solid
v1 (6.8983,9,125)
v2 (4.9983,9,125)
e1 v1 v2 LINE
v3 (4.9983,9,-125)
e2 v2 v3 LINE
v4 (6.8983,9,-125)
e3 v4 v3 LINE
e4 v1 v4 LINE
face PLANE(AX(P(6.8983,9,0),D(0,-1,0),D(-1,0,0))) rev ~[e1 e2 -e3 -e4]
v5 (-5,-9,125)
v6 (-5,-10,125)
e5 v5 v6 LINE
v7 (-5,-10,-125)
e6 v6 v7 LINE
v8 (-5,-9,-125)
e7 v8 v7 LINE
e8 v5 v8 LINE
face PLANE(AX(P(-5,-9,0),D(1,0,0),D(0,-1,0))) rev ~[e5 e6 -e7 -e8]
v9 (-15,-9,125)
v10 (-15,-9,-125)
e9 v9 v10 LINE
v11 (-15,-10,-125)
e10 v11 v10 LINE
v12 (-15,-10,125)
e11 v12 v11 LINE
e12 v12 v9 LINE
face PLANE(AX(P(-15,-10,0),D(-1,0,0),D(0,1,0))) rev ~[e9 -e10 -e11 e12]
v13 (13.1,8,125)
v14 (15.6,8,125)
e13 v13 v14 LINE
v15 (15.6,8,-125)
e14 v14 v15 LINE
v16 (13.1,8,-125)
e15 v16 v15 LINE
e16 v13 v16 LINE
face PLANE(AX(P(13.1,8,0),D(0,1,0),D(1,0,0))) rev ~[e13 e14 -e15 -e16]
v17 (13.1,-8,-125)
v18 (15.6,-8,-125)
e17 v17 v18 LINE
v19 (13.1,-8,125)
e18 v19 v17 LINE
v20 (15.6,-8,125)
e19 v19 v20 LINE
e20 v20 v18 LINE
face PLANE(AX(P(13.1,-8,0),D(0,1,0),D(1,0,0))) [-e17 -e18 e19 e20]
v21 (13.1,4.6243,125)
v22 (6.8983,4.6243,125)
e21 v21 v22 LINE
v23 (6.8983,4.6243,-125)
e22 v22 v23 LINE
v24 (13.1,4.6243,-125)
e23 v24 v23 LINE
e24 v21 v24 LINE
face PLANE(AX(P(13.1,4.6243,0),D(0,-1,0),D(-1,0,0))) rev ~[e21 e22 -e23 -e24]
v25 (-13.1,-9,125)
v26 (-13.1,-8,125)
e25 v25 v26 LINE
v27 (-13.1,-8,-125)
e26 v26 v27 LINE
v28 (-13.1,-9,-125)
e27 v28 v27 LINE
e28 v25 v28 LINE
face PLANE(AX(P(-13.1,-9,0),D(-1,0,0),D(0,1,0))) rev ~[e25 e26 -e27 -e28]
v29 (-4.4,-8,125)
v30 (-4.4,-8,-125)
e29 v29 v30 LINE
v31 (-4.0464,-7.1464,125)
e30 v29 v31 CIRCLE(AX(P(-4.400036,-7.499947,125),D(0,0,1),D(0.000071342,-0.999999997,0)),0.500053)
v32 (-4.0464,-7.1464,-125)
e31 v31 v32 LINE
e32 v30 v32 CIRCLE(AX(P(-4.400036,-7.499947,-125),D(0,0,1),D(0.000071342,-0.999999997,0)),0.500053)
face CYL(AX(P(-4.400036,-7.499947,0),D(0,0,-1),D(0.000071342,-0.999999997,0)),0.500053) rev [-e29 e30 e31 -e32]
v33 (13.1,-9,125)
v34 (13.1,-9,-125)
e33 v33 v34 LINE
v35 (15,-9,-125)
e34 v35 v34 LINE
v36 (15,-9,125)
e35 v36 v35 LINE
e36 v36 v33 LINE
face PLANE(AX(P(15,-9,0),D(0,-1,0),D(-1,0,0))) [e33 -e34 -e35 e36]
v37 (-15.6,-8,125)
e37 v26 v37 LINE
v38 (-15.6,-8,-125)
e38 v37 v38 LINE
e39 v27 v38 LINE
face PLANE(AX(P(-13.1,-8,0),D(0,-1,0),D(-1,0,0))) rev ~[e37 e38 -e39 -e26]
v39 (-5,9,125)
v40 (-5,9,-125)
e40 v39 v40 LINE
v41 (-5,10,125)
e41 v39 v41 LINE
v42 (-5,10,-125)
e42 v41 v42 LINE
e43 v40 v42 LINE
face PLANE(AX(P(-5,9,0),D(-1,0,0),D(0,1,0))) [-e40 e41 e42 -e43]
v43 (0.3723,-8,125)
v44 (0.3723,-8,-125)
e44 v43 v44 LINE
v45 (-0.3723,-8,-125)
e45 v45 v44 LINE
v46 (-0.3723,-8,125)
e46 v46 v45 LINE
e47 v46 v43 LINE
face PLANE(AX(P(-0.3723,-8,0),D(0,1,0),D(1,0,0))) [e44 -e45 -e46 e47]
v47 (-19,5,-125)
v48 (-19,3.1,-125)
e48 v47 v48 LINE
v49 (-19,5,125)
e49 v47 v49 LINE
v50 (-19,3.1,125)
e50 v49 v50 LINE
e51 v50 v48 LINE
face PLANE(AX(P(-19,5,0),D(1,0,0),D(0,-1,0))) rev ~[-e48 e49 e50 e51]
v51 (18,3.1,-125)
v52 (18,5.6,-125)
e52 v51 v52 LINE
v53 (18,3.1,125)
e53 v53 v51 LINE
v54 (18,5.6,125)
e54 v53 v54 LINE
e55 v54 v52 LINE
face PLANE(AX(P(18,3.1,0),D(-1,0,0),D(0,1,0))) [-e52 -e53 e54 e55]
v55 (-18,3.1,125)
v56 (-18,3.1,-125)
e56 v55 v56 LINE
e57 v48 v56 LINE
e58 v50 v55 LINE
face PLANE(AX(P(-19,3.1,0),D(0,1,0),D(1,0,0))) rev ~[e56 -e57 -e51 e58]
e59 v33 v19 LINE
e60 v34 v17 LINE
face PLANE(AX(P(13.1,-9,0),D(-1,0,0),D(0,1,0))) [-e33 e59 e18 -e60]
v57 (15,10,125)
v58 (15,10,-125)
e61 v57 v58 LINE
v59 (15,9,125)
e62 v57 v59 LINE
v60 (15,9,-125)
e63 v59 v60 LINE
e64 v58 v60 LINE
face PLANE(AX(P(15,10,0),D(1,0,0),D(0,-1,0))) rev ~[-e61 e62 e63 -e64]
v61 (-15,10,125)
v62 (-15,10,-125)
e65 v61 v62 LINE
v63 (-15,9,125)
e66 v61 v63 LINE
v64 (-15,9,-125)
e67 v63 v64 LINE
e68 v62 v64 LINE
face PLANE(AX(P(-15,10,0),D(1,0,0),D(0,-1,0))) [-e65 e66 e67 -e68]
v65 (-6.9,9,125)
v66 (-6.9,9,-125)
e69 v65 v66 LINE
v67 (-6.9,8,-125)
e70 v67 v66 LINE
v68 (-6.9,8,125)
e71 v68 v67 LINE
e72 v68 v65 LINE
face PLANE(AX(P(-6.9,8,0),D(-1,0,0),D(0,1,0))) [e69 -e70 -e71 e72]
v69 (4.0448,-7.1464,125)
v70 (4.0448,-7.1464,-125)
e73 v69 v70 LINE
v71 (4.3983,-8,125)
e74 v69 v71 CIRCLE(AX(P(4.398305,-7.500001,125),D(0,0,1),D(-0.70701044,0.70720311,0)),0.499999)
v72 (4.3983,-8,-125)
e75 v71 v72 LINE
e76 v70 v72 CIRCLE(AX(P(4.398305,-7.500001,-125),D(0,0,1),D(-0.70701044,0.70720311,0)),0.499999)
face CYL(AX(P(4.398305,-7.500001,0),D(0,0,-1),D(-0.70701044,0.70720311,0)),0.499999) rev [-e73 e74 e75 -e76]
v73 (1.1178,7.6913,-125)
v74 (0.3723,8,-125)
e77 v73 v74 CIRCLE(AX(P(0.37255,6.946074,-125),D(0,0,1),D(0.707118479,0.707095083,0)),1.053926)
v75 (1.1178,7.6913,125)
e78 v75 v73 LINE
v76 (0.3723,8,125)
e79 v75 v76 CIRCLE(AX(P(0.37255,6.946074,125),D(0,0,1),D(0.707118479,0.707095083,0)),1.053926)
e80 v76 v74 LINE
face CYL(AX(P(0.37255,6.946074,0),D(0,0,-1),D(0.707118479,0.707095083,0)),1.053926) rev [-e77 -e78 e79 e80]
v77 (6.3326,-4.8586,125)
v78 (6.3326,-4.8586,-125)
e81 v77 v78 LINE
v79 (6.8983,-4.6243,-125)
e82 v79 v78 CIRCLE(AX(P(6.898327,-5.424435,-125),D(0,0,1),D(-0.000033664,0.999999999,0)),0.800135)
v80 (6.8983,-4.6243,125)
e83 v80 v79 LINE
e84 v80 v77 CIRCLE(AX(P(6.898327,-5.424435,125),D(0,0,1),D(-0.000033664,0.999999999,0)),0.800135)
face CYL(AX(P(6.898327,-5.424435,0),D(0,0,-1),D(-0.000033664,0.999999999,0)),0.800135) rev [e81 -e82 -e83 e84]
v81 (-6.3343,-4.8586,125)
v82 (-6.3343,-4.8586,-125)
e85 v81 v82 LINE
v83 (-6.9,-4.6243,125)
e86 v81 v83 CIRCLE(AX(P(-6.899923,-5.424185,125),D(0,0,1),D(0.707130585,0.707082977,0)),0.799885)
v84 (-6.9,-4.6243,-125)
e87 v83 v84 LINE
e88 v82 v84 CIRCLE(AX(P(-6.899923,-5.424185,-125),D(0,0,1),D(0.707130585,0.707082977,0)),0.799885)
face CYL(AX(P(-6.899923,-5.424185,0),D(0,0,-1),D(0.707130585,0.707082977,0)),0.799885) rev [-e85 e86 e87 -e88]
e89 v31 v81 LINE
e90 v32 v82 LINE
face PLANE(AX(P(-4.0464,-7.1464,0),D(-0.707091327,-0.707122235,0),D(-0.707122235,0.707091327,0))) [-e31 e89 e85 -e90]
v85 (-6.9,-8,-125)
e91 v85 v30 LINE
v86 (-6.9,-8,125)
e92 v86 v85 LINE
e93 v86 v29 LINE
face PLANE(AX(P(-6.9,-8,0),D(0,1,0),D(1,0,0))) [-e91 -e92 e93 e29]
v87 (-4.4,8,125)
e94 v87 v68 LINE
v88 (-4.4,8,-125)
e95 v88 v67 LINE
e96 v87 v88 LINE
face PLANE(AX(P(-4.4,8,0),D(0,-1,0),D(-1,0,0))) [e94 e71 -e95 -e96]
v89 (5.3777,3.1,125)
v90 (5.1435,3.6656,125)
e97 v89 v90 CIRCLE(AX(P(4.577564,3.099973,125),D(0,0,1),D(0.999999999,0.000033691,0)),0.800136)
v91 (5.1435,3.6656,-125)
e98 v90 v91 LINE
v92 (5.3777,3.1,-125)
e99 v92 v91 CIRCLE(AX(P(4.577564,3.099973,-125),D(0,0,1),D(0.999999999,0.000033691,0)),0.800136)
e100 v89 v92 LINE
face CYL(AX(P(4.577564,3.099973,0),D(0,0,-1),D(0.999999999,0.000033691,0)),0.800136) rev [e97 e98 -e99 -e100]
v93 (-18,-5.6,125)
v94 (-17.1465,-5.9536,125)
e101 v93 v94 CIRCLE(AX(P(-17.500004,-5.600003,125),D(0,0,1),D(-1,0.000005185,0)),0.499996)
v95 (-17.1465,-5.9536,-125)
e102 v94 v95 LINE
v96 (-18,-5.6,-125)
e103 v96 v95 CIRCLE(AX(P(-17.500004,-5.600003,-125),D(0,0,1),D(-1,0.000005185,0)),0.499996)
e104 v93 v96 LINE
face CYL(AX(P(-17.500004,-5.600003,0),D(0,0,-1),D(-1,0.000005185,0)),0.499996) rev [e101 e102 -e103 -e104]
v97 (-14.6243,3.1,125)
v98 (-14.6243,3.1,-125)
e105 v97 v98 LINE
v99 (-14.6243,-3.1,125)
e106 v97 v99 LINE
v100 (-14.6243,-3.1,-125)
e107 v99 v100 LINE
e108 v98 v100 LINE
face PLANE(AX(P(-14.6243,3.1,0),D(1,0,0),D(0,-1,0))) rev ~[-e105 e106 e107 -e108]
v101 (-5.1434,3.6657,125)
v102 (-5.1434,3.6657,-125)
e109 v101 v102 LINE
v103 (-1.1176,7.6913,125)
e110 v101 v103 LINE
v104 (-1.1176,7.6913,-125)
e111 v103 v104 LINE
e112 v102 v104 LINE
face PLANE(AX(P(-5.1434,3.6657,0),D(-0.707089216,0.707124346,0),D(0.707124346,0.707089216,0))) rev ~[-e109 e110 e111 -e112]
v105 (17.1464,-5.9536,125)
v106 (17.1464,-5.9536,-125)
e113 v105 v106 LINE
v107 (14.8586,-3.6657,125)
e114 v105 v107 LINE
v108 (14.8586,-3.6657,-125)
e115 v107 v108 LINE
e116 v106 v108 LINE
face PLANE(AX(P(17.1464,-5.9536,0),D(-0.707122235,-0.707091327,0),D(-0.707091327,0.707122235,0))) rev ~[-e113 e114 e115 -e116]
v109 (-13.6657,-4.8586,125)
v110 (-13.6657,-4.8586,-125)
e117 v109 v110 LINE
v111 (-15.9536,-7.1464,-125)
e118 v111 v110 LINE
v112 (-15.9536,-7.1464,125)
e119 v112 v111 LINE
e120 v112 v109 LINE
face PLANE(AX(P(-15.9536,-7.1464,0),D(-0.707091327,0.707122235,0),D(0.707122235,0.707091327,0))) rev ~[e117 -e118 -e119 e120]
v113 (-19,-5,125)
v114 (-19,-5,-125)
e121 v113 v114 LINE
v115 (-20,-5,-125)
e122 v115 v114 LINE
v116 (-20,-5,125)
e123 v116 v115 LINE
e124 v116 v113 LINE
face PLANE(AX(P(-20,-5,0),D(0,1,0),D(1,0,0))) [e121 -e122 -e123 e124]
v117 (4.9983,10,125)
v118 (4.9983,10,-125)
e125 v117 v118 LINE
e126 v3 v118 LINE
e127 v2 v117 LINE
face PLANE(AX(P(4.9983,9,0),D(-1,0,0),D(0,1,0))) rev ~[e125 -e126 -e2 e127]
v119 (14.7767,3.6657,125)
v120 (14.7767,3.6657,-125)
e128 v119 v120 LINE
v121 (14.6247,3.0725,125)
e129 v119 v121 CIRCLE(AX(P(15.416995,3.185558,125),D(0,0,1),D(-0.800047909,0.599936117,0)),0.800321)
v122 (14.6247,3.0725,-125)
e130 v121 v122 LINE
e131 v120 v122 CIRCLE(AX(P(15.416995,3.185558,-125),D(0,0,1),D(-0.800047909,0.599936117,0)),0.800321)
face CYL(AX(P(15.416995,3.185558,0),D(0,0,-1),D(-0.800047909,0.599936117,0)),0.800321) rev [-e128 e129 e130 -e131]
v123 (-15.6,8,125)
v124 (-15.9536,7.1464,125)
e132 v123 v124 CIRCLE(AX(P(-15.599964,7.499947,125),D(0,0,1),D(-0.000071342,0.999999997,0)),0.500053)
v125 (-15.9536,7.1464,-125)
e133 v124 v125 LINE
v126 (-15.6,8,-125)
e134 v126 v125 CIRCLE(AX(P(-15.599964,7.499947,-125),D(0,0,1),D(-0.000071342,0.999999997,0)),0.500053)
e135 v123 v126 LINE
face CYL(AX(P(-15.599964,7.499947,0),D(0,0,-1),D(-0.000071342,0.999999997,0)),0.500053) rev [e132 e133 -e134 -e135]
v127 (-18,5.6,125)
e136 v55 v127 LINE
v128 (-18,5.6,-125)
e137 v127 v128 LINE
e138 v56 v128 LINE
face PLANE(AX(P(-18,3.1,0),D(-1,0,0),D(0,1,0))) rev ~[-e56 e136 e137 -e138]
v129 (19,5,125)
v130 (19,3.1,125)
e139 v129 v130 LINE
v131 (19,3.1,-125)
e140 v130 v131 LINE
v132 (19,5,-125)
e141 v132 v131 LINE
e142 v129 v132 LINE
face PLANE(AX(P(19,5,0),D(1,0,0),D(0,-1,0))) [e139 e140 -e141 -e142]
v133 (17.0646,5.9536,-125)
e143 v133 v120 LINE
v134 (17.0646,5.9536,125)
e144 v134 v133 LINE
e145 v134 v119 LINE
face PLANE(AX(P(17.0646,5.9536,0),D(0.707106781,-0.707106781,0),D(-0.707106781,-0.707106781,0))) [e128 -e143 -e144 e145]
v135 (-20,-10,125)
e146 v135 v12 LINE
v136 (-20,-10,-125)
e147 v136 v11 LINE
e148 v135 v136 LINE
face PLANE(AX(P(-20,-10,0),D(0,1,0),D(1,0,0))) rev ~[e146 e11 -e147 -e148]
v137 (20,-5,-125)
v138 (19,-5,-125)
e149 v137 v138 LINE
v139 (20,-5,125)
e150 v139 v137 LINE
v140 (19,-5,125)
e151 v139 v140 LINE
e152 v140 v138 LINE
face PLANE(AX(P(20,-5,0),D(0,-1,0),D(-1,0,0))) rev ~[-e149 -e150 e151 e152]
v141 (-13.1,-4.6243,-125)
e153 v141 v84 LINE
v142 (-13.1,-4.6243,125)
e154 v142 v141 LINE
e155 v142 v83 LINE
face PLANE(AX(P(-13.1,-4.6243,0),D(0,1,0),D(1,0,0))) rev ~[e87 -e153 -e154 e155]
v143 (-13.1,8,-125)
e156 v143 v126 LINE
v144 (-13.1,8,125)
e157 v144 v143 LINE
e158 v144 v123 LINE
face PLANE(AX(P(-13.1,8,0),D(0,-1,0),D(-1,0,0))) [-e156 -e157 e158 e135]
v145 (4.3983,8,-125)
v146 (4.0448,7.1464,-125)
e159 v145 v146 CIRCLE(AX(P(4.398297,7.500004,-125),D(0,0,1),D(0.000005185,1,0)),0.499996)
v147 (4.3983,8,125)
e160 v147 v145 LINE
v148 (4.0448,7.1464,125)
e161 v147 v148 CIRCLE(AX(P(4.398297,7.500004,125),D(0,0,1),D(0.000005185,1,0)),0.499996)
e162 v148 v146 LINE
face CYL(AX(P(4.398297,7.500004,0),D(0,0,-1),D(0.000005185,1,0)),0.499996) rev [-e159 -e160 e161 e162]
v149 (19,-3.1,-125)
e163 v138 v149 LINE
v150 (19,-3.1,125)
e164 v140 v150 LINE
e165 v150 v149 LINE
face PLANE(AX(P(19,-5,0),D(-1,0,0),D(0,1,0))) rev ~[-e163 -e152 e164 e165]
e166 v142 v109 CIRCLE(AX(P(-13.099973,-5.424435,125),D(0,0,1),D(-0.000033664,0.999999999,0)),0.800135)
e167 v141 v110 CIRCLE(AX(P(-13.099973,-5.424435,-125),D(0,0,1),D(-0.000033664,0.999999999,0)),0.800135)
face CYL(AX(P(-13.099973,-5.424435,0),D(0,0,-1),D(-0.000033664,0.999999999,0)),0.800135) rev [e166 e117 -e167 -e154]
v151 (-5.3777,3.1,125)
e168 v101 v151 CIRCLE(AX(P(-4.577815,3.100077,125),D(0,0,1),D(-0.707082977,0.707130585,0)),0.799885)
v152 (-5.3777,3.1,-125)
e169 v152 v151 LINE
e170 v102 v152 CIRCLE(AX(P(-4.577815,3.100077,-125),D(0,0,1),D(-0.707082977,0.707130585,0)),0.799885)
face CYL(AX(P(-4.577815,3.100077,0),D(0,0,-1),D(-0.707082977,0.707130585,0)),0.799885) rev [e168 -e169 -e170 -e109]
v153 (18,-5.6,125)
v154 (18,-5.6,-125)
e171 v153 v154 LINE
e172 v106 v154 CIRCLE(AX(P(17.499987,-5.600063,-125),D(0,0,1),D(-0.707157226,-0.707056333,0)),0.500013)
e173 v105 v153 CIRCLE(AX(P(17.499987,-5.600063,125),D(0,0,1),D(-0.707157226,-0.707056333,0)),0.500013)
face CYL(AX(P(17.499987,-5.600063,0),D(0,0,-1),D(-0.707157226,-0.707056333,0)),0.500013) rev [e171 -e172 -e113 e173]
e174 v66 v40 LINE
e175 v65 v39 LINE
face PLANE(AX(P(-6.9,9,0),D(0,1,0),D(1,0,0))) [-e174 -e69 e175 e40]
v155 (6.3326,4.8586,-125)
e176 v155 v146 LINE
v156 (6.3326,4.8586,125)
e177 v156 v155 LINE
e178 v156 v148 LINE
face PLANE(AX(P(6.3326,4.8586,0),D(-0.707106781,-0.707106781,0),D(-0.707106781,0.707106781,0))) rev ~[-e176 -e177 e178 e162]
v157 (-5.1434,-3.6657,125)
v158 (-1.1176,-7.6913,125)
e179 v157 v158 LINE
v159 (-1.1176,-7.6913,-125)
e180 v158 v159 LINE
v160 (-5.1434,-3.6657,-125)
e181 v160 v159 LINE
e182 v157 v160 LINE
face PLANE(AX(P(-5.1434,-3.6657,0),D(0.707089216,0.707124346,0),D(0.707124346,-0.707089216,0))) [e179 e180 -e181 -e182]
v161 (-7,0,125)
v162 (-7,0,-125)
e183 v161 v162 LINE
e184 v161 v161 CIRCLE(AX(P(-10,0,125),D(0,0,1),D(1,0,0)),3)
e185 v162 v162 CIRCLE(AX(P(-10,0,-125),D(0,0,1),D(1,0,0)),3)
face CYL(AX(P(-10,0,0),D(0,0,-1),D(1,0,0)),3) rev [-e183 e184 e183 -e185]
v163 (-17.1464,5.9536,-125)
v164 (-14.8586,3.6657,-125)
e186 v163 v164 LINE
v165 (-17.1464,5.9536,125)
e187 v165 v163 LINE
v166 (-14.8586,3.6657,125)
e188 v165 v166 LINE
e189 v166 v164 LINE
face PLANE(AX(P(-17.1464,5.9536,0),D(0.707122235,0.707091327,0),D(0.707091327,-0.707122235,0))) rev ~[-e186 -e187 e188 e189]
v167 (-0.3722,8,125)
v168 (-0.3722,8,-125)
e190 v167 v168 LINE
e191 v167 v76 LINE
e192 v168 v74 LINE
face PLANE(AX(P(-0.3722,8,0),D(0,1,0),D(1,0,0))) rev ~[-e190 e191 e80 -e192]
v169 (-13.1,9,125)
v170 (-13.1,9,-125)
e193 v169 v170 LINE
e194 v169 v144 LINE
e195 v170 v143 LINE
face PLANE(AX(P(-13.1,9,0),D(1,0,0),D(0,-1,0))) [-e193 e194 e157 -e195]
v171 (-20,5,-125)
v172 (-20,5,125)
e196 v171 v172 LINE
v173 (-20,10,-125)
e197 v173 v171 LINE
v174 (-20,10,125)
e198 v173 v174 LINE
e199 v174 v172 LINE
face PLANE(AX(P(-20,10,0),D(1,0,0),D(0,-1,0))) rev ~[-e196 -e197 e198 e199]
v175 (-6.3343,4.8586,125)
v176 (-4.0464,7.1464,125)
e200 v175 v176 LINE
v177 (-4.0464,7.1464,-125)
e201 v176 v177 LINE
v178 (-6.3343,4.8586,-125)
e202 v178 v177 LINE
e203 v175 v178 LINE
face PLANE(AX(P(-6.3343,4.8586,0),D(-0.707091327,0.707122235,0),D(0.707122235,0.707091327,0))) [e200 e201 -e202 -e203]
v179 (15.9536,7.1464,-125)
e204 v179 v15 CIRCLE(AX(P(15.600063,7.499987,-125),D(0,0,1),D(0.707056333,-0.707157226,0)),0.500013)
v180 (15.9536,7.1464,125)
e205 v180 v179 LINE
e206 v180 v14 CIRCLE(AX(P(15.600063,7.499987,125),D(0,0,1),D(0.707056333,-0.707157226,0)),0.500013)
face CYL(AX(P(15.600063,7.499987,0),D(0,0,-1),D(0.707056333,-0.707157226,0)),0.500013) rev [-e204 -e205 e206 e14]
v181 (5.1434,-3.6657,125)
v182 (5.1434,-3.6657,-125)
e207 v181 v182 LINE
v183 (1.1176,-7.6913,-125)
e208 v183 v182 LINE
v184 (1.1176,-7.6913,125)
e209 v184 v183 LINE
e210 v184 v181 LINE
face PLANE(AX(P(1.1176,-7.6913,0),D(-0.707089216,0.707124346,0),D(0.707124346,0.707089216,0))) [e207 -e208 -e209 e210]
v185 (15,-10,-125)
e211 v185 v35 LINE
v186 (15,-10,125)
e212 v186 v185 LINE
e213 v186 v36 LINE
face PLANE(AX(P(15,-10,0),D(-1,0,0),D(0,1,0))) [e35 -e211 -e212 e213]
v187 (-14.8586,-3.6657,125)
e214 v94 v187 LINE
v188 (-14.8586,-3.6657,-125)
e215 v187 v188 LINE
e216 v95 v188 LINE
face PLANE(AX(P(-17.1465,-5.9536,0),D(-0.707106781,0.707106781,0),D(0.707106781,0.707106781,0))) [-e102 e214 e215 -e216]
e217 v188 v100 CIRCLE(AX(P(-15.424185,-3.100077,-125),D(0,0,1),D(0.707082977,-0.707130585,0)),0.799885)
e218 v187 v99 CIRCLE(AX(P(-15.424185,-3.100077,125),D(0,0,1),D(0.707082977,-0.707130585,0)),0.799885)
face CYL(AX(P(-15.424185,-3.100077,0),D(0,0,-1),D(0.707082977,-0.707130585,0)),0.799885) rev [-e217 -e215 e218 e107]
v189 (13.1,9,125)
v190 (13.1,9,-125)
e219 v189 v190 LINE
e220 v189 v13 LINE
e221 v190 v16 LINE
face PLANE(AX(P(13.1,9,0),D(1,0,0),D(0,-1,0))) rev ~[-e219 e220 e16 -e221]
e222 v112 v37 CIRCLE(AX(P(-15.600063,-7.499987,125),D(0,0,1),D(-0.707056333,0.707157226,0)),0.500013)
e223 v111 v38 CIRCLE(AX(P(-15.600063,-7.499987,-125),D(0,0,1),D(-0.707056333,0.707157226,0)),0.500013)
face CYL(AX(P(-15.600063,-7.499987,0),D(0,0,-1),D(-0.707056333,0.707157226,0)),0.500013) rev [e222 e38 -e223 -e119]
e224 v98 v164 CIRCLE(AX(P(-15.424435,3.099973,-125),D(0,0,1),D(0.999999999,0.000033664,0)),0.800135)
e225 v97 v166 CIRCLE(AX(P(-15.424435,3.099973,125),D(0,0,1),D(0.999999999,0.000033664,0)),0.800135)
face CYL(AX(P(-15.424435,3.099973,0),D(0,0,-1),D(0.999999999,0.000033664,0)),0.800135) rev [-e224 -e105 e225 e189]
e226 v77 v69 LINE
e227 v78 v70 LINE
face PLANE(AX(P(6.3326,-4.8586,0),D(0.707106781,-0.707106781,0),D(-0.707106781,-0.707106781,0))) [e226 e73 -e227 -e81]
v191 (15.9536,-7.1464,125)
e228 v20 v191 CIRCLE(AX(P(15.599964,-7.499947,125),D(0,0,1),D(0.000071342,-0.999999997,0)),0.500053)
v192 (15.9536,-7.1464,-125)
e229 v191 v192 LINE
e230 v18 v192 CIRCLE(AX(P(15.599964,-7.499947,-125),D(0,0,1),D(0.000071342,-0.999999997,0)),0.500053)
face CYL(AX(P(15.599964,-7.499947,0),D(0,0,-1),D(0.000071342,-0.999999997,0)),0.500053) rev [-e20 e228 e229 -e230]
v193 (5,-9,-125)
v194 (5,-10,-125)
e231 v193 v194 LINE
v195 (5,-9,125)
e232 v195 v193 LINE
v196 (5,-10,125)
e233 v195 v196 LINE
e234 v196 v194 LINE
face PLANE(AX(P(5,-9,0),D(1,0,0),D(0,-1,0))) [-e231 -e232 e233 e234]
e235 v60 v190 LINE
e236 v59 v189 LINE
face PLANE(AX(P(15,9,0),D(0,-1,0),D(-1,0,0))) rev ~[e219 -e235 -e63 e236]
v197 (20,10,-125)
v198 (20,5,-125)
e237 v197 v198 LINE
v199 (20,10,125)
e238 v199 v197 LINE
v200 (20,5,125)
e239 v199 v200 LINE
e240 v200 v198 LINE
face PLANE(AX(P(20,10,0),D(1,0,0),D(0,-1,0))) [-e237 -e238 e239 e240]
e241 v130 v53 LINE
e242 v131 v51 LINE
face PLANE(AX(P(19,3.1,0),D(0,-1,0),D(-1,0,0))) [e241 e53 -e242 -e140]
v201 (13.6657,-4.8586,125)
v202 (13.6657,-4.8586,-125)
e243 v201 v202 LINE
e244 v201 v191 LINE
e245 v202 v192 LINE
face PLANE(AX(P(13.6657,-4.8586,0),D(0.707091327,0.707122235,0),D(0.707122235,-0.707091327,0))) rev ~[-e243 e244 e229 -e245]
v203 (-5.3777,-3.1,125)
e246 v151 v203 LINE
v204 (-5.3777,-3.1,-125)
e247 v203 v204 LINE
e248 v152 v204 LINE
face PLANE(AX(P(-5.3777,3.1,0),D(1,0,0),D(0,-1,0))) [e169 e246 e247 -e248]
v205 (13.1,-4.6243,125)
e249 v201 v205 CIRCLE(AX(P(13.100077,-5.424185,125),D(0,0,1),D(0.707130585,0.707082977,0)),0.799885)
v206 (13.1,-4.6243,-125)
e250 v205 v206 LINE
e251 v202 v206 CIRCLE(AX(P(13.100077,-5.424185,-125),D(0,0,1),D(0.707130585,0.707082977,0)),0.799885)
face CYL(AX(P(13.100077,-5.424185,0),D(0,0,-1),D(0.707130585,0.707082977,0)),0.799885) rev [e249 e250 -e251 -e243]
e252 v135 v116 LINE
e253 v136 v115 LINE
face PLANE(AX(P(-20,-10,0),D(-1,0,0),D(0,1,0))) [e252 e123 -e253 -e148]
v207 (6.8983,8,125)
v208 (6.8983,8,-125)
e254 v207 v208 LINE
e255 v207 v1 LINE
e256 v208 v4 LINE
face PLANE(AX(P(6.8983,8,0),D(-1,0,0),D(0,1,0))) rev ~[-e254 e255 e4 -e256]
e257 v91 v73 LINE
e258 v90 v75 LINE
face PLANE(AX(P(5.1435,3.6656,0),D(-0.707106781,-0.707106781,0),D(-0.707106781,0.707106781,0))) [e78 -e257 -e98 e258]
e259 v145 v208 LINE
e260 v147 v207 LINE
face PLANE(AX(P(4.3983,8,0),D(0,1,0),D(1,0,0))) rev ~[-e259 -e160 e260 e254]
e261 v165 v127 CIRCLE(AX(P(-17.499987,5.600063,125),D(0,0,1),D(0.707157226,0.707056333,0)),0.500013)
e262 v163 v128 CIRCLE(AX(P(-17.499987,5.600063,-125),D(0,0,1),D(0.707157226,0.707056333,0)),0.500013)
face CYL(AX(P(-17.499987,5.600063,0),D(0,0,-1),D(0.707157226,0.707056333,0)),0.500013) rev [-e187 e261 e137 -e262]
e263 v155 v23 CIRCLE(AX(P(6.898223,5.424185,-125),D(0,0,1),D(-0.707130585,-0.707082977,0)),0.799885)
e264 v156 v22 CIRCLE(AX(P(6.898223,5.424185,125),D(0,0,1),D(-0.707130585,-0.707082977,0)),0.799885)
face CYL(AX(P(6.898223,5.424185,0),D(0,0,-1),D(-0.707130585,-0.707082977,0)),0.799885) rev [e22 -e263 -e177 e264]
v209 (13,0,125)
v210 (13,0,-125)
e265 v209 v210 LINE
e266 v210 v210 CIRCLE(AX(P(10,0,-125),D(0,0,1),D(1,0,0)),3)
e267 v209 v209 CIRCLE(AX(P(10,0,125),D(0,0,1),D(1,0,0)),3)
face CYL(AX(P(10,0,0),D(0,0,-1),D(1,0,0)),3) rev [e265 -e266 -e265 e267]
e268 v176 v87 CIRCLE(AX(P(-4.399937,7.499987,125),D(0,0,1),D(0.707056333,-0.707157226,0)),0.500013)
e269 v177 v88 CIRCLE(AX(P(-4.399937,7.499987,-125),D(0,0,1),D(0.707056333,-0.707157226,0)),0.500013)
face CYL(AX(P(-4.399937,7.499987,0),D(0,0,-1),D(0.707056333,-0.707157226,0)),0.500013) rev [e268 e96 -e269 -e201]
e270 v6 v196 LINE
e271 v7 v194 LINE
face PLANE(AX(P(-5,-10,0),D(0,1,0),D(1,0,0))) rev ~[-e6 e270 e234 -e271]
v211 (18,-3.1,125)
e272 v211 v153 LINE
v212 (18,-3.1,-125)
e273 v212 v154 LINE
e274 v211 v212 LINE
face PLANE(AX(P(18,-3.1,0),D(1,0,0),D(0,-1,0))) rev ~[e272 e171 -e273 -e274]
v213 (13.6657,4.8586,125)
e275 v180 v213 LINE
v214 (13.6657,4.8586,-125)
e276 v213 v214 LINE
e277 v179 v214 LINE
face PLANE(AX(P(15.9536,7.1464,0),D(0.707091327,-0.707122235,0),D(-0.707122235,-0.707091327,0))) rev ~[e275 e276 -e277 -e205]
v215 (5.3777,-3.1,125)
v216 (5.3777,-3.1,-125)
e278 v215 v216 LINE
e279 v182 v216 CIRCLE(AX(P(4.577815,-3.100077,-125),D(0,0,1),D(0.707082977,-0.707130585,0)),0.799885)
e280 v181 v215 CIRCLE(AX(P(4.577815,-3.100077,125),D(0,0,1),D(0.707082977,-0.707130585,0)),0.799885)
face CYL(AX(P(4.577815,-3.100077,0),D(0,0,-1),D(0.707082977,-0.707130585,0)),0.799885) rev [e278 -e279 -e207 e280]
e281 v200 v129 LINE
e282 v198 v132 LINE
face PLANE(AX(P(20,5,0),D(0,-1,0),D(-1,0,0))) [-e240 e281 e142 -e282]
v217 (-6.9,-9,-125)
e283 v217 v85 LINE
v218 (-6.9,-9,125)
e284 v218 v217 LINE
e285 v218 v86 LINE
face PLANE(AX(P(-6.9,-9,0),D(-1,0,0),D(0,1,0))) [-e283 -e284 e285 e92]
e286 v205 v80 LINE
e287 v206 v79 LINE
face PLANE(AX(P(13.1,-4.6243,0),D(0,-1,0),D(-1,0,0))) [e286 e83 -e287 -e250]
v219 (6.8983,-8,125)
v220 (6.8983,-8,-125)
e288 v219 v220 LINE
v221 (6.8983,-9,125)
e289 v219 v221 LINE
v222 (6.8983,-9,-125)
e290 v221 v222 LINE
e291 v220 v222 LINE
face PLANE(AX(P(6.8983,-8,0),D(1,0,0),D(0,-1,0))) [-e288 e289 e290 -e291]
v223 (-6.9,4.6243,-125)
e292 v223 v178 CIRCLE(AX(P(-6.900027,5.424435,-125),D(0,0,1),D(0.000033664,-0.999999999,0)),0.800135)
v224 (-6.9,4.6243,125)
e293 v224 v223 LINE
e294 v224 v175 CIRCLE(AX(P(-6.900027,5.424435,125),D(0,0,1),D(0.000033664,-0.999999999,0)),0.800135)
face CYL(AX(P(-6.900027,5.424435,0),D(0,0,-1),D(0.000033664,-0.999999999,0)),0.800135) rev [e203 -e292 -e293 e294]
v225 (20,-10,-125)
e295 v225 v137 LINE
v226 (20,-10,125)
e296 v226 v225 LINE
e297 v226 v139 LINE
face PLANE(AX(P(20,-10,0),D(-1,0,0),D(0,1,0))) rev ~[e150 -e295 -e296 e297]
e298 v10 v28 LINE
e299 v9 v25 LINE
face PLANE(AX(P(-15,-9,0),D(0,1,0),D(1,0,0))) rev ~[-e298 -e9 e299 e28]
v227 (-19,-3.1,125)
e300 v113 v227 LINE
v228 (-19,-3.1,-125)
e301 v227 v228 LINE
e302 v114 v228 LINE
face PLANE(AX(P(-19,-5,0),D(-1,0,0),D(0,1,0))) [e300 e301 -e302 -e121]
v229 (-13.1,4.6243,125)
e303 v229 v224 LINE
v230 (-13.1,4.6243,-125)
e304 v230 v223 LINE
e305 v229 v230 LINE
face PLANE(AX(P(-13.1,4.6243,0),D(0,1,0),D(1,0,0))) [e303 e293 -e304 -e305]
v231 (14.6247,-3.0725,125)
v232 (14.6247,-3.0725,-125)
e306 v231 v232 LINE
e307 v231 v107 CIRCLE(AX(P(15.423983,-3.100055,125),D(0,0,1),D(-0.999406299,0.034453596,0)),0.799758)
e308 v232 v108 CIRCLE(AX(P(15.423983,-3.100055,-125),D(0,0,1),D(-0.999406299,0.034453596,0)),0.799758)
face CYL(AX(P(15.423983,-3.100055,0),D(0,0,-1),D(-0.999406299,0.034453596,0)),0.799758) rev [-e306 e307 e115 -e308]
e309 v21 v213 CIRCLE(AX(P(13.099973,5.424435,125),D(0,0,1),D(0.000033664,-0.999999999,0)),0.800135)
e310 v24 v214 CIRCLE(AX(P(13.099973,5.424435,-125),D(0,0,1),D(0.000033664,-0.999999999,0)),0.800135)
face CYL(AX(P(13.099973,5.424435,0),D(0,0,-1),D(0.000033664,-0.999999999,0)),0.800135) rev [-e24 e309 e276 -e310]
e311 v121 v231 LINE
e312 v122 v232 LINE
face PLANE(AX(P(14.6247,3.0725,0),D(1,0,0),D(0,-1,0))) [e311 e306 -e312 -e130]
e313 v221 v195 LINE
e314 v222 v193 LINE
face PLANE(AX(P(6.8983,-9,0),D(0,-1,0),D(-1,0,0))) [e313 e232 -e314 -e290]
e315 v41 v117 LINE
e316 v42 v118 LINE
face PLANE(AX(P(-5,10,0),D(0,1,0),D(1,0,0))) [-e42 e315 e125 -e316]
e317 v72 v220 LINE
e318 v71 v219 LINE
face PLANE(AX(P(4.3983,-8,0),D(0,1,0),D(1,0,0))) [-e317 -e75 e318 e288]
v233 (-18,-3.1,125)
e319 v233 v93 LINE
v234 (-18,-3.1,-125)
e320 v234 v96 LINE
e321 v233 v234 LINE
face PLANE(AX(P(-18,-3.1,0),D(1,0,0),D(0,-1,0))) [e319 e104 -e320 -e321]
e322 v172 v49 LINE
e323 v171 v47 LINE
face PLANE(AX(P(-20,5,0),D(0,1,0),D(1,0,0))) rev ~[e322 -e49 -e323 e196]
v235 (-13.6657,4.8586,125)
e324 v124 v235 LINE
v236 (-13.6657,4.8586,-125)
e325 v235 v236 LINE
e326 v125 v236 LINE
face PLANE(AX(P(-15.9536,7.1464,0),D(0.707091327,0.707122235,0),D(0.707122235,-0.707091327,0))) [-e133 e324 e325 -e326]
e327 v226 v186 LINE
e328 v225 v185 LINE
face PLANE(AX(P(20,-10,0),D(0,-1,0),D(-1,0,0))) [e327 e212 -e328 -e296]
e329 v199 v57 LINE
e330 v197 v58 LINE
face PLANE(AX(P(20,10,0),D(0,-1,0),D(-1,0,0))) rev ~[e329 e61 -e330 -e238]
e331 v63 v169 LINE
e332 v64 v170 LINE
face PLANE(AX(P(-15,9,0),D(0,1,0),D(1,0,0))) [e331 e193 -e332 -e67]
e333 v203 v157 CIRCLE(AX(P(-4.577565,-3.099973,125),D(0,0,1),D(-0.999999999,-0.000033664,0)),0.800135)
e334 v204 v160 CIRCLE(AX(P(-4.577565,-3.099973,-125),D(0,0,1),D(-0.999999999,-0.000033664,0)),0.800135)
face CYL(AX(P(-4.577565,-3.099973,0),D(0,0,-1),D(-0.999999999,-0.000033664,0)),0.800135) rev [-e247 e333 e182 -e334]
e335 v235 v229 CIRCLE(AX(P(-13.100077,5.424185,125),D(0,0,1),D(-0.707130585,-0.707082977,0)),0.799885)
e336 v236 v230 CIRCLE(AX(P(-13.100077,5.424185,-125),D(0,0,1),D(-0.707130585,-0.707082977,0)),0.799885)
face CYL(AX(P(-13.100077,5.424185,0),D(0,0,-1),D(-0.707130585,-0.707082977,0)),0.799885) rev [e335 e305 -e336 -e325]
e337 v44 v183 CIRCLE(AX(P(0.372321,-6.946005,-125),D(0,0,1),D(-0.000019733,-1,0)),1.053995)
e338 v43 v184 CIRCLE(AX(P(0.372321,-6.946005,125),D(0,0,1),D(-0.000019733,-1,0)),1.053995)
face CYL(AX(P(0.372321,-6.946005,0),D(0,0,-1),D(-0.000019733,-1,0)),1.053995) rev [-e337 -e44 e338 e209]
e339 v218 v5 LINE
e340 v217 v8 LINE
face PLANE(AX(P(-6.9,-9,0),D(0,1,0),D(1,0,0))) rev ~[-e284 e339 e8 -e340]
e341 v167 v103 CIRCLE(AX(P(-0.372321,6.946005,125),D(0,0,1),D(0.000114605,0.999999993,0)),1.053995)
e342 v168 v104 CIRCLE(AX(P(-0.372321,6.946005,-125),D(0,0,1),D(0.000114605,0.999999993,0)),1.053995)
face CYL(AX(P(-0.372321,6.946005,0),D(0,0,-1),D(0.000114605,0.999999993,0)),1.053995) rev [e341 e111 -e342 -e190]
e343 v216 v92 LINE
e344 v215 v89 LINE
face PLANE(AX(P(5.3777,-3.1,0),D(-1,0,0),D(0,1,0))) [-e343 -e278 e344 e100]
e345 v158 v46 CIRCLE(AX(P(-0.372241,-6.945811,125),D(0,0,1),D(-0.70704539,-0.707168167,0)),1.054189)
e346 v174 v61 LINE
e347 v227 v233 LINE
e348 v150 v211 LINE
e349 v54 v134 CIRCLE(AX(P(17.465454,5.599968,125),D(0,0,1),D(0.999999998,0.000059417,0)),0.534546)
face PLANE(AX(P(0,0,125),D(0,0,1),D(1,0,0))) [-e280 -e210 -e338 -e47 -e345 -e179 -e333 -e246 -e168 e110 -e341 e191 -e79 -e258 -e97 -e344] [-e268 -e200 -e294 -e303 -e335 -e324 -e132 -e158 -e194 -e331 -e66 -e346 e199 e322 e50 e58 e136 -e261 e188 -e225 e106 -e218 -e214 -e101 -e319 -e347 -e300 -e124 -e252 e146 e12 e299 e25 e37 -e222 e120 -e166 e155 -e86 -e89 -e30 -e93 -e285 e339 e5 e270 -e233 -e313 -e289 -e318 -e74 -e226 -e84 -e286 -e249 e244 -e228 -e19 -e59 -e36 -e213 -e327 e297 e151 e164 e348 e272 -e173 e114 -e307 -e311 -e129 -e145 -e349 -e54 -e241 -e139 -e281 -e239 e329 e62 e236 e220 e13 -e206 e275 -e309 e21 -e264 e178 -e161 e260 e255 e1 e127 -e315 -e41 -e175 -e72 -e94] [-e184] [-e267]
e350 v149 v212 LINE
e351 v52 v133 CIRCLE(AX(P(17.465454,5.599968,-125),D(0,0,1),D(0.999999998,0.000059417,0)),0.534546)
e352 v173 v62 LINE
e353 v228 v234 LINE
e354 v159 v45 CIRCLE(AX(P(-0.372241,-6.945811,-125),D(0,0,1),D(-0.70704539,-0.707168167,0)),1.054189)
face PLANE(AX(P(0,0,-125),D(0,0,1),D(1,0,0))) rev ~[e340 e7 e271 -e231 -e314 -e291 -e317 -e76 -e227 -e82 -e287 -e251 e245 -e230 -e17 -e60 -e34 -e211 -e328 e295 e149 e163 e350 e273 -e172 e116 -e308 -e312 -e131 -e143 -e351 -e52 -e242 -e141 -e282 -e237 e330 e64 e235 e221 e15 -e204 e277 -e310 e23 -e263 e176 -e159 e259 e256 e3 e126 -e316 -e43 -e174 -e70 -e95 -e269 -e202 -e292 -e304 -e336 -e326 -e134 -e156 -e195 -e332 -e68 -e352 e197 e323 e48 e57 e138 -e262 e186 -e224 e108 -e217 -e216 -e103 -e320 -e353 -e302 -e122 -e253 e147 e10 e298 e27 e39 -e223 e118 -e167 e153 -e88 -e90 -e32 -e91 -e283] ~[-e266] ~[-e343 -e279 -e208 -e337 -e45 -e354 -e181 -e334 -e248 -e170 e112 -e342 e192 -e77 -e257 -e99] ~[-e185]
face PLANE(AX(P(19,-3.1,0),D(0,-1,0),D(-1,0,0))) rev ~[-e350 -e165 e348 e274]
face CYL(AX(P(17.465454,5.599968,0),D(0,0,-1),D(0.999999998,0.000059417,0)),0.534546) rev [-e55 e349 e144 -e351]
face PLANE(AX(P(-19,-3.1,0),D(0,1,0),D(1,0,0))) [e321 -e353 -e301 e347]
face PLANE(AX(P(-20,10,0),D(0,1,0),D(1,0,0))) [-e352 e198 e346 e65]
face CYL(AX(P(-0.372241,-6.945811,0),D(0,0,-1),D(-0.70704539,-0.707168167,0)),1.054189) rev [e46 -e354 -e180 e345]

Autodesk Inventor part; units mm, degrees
ref_plane "YZ Plane" through (0, 0, 0) normal (1, 0, 0) x (0, 1, 0)
ref_plane "XZ Plane" through (0, 0, 0) normal (0, 1, 0) x (-1, 0, 0)
ref_plane "XY Plane" through (0, 0, 0) normal (0, 0, 1) x (1, 0, 0)
sketch "Esboço1" plane through (0, 0, 0) normal (0, 0, 1) x (1, 0, 0)
  line L0 (1376.0742, -3.2) -> (1376.0729, -2.2)
  line L1 (-14.9742, 1386.056) -> (-13.9742, 1386.056)
  line L2 (-13.9742, 1386.056) -> (-13.9742, 1387.2256)
  line L3 (-13.9742, 1387.2256) -> (-15.9742, 1387.2256)
  line L4 (1376.0625, 5) -> (1376.0625, 4)
  line L5 (1376.0625, 4) -> (2769.8011, 4)
  line L6 (2769.8011, 4) -> (2769.8055, 6)
  arc A0 (-16.3152, 1388.0487) -> (-15.9742, 1387.2256) centre (-15.9742, 1387.7078) ccw
  line L7 (-14.9742, -1386.056) -> (-13.9742, -1386.056)
  line L8 (-13.9742, -1386.056) -> (6.3334, -2779.6467)
  line L9 (6.3334, -2779.6467) -> (4.3336, -2779.6758)
  arc A1 (4.3336, -2779.6758) -> (4.0107, -2780.3971) centre (4.3399, -2780.1116) ccw
  line L10 (4.0107, -2780.3971) -> (5.4731, -2781.7335)
  arc A2 (2770.6738, 6.0529) -> (2769.8055, 6) centre (2770.2413, 5.999) ccw
  line L11 (-20, 10) -> (0, 10) construction
  line L12 (0, 10) -> (0, -10) construction
  line L13 (0, -10) -> (-20, -10) construction
  line L14 (-20, -10) -> (-20, 10) construction
  line L15 (-20, 10) -> (0, -10) construction
  line L16 (0, 10) -> (-20, -10) construction
  line L17 (0, 10) -> (20, 10) construction
  line L18 (20, 10) -> (20, -10) construction
  line L19 (20, -10) -> (0, -10) construction
  line L20 (0, -10) -> (0, 10) construction
  line L21 (0, 10) -> (20, -10) construction
  line L22 (20, 10) -> (0, -10) construction
  circle A3 centre (-10, 0) radius 3 construction
  circle A4 centre (10, 0) radius 3 construction
  line L23 (-20, 10) -> (-20, 5)
  line L24 (-20, -10) -> (-20, -5)
  line L25 (-20, -5) -> (-19, -5)
  line L26 (-19, -5) -> (-19, -3.1)
  line L27 (-19, -3.1) -> (-18, -3.1)
  line L28 (-20, 5) -> (-19, 5)
  line L29 (-19, 5) -> (-19, 3.1)
  line L30 (-19, 3.1) -> (-18, 3.1)
  line L31 (20, -10) -> (20, -5)
  line L32 (20, -5) -> (19, -5)
  line L33 (19, -5) -> (19, -3.1)
  line L34 (19, -3.1) -> (18, -3.1)
  line L35 (20, 10) -> (20, 5)
  line L36 (20, 5) -> (19, 5)
  line L37 (19, 5) -> (19, 3.1)
  line L38 (19, 3.1) -> (18, 3.1)
  line L39 (-18, 3.1) -> (-18, 5.6)
  line L40 (-18, -3.1) -> (-18, -5.6)
  line L41 (18, -3.1) -> (18, -5.6)
  line L42 (18, 3.1) -> (18, 5.6)
  arc A5 (18, 5.6) -> (17.0646, 5.9536) centre (17.4655, 5.6) ccw
  line L43 (-20, -10) -> (-15, -10)
  line L44 (-20, 10) -> (-15, 10)
  line L45 (-15, 10) -> (-15, 9)
  line L46 (-15, 9) -> (-13.1, 9)
  line L47 (-13.1, 9) -> (-13.1, 8)
  line L48 (-13.1, 8) -> (-15.6, 8)
  line L49 (-15, -10) -> (-15, -9)
  line L50 (-15, -9) -> (-13.1, -9)
  line L51 (-13.1, -9) -> (-13.1, -8)
  line L52 (-13.1, -8) -> (-15.6, -8)
  line L53 (-20, 0) -> (20, 0) construction
  line L54 (20, -10) -> (15, -10)
  line L55 (15, -10) -> (15, -9)
  line L56 (15, -9) -> (13.1, -9)
  line L57 (13.1, -9) -> (13.1, -8)
  line L58 (13.1, -8) -> (15.6, -8)
  line L59 (20, 10) -> (15, 10)
  arc A6 (-17.1464, 5.9536) -> (-18, 5.6) centre (-17.5, 5.6) ccw
  arc A7 (-15.9536, -7.1464) -> (-15.6, -8) centre (-15.6, -7.5) ccw
  arc A8 (15.6, -8) -> (15.9536, -7.1464) centre (15.6, -7.5) ccw
  arc A9 (-13.1, -4.6243) -> (-13.6657, -4.8586) centre (-13.1, -5.4243) ccw
  line L60 (-15.9536, -7.1464) -> (-13.6657, -4.8586)
  arc A10 (-18, -5.6) -> (-17.1465, -5.9536) centre (-17.5, -5.6) ccw
  line L61 (-14.6243, 3.1) -> (-14.6243, -3.1) construction
  arc A11 (-14.8586, -3.6657) -> (-14.6243, -3.1) centre (-15.4243, -3.1) ccw
  line L62 (-17.1465, -5.9536) -> (-14.8586, -3.6657)
  arc A12 (-15.6, 8) -> (-15.9536, 7.1464) centre (-15.6, 7.5) ccw
  line L63 (-14.6243, 3.1) -> (-14.6243, -3.1)
  arc A13 (-14.6243, 3.1) -> (-14.8586, 3.6657) centre (-15.4243, 3.1) ccw
  line L64 (-17.1464, 5.9536) -> (-14.8586, 3.6657)
  line L65 (-14.8586, 3.6657) -> (-14.8586, 3.6657)
  arc A14 (-13.6657, 4.8586) -> (-13.1, 4.6243) centre (-13.1, 5.4243) ccw
  line L66 (-15.9536, 7.1464) -> (-13.6657, 4.8586)
  line L67 (-6.9, -9) -> (-6.9, -8)
  line L68 (-6.9, -8) -> (-4.4, -8)
  line L69 (-6.9, -9) -> (-5, -9)
  line L70 (-5, -9) -> (-5, -10)
  line L71 (-10, 0) -> (-10, -10) construction
  arc A15 (-4.4, -8) -> (-4.0464, -7.1464) centre (-4.4, -7.5) ccw
  line L72 (-4.0464, -7.1464) -> (-6.3343, -4.8586)
  arc A16 (-6.3343, -4.8586) -> (-6.9, -4.6243) centre (-6.9, -5.4243) ccw
  line L73 (-13.1, -4.6243) -> (-6.9, -4.6243)
  line L74 (-13.1, 4.6243) -> (-6.9, 4.6243)
  arc A17 (-6.9, 4.6243) -> (-6.3343, 4.8586) centre (-6.9, 5.4243) ccw
  line L75 (-6.3343, 4.8586) -> (-4.0464, 7.1464)
  arc A18 (-4.0464, 7.1464) -> (-4.4, 8) centre (-4.4, 7.5) ccw
  line L76 (-4.4, 8) -> (-6.9, 8)
  line L77 (-6.9, 8) -> (-6.9, 9)
  line L78 (-6.9, 9) -> (-5, 9)
  line L79 (-5, 9) -> (-5, 10)
  line L80 (15, 10) -> (15, 9)
  line L81 (15, 9) -> (13.1, 9)
  line L82 (13.1, 9) -> (13.1, 8)
  line L83 (13.1, 8) -> (15.6, 8)
  arc A19 (15.9536, 7.1464) -> (15.6, 8) centre (15.6, 7.5) ccw
  arc A20 (17.1464, -5.9536) -> (18, -5.6) centre (17.5, -5.6) ccw
  line L84 (13.6657, -4.8586) -> (15.9536, -7.1464)
  line L85 (17.1464, -5.9536) -> (14.8586, -3.6657)
  arc A21 (14.6247, -3.0725) -> (14.8586, -3.6657) centre (15.4243, -3.1) ccw
  arc A22 (13.6657, -4.8586) -> (13.1, -4.6243) centre (13.1, -5.4243) ccw
  line L86 (15.9536, 7.1464) -> (13.6657, 4.8586)
  arc A23 (13.1, 4.6243) -> (13.6657, 4.8586) centre (13.1, 5.4243) ccw
  line L87 (17.0646, 5.9536) -> (14.7767, 3.6657)
  arc A24 (14.7767, 3.6657) -> (14.6247, 3.0725) centre (15.4167, 3.1857) ccw
  line L88 (14.6247, 3.0725) -> (14.6247, -3.0725)
  line L89 (13.1, -4.6243) -> (6.8983, -4.6243)
  arc A25 (6.8983, -4.6243) -> (6.3326, -4.8586) centre (6.8983, -5.4243) ccw
  line L90 (6.3326, -4.8586) -> (4.0448, -7.1464)
  arc A26 (4.0448, -7.1464) -> (4.3983, -8) centre (4.3983, -7.5) ccw
  line L91 (13.1, 4.6243) -> (6.8983, 4.6243)
  arc A27 (6.3326, 4.8586) -> (6.8983, 4.6243) centre (6.8983, 5.4243) ccw
  line L92 (6.3326, 4.8586) -> (4.0448, 7.1464)
  arc A28 (4.3983, 8) -> (4.0448, 7.1464) centre (4.3983, 7.5) ccw
  line L93 (4.3983, 8) -> (6.8983, 8)
  line L94 (4.3983, -8) -> (6.8983, -8)
  line L95 (6.8983, 8) -> (6.8983, 9)
  line L96 (6.8983, 9) -> (4.9983, 9)
  line L97 (4.9983, 9) -> (4.9983, 10)
  line L98 (-5, 10) -> (4.9983, 10)
  line L99 (6.8983, -8) -> (6.8983, -9)
  line L100 (6.8983, -9) -> (5, -9)
  line L101 (5, -9) -> (5, -10)
  line L102 (-5, -10) -> (5, -10)
  line L103 (-5.3777, 3.1) -> (-5.3777, -3.1)
  arc A29 (-5.1434, 3.6657) -> (-5.3777, 3.1) centre (-4.5777, 3.1) ccw
  line L104 (-5.1434, 3.6657) -> (-1.1176, 7.6913)
  arc A30 (-0.3722, 8) -> (-1.1176, 7.6913) centre (-0.3723, 6.9459) ccw
  line L105 (-0.3722, 8) -> (0.3723, 8)
  arc A31 (-5.3777, -3.1) -> (-5.1434, -3.6657) centre (-4.5777, -3.1) ccw
  line L106 (-5.1434, -3.6657) -> (-1.1176, -7.6913)
  arc A32 (-1.1176, -7.6913) -> (-0.3723, -8) centre (-0.3723, -6.9459) ccw
  line L107 (-0.3723, -8) -> (0.3723, -8)
  arc A33 (0.3723, -8) -> (1.1176, -7.6913) centre (0.3723, -6.9459) ccw
  line L108 (1.1176, -7.6913) -> (5.1434, -3.6657)
  arc A34 (5.1434, -3.6657) -> (5.3777, -3.1) centre (4.5777, -3.1) ccw
  line L109 (5.3777, -3.1) -> (5.3777, 3.1)
  arc A35 (5.3777, 3.1) -> (5.1435, 3.6656) centre (4.5777, 3.1) ccw
  line L110 (5.1435, 3.6656) -> (1.1178, 7.6913)
  arc A36 (1.1178, 7.6913) -> (0.3723, 8) centre (0.3725, 6.946) ccw
  circle A37 centre (-10, 0) radius 3
  circle A38 centre (10, 0) radius 3
  point P0 (2769.8033, 5)
  point P1 (2072.9318, 4)
  point P2 (-16.4197, 1387.5232)
  point P3 (0, 0)
  point P4 (0, 0)
  point P5 (-10, 0)
  point P6 (10, 0)
  point P7 (0, 0)
  point P8 (0, 0)
  point P9 (-18.5, 3.1)
  point P10 (-18.5, -3.1)
  point P11 (-19.5, 5)
  point P12 (-19.5, -5)
  point P13 (-19, -4.05)
  point P14 (-19, 4.05)
  point P15 (18.5, -3.1)
  point P16 (19.5, 5)
  point P17 (19.5, -5)
  point P18 (18.5, 3.1)
  point P19 (19, 4.05)
  point P20 (19, -4.05)
  point P21 (17.6545, 6.1)
  point P22 (14.35, -8)
  point P23 (-14.35, -8)
  point P24 (-18, -4.35)
  point P25 (18, -4.35)
  point P26 (-14.6243, 0)
  point P27 (-13.4061, 4.6852)
  point P28 (0, 10)
  point P29 (-10, -10)
  point P30 (-6.9, -8.5)
  point P31 (-13.1, -8.5)
  point P32 (-5.1904, 6.0025)
  point P33 (-14.8096, 6.0025)
  point P34 (-5.1904, -6.0025)
  point P35 (-14.8096, -6.0025)
  point P36 (-10, 4.6243)
  point P37 (-10, -4.6243)
  point P38 (-5.65, 8)
  point P39 (-14.35, 8)
  point P40 (-5, 9.5)
  point P41 (-5, -9.5)
  point P42 (13.1, 8.5)
  point P43 (13.1, -8.5)
  point P44 (14.05, 9)
  point P45 (-5.95, 9)
  point P46 (14.35, 8)
  point P47 (14.8096, -6.0025)
  point P48 (16.0619, 7.6913)
  point P49 (14.8096, 6.0025)
  point P50 (13.4061, -4.6852)
  point P51 (17.9665, 6.0025)
  point P52 (5.1887, -6.0025)
  point P53 (6.5922, 4.6852)
  point P54 (6.5922, -4.6852)
  point P55 (14.6247, 0)
  point P56 (-14.6243, 0)
  point P57 (5.1887, 6.0025)
  point P58 (3.9364, 7.6913)
  point P59 (-3.9381, 7.6913)
  point P60 (5.6483, -8)
  point P61 (5.6483, 8)
  point P62 (5.9483, 9)
  point P63 (5, -9.5)
  point P64 (-5.3777, 0)
  point P65 (-0.7756, 7.9198)
  point P66 (-3.1305, 5.6785)
  point P67 (-3.1305, -5.6785)
  point P68 (0, -8)
  point P69 (0, 0)
  point P70 (0.7756, -7.9198)
  point P71 (-0.7756, -7.9198)
  point P72 (-4.0464, -7.1464)
  point P73 (4.3983, 8)
  dimension "d27" = 135
  dimension "d74" = 2
  dimension "d75" = 1
  dimension "d90" = 20
  dimension "d93" = 20
  dimension "d94" = 40
  dimension "d95" = 20
  dimension "d96" = 6
  dimension "d98" = 6
  dimension "d104" = 5
  dimension "d107" = 6.2
  dimension "d108" = 5
  dimension "d110" = 1
  dimension "d114" = 2.5
  dimension "d115" = 2.5
  dimension "d116" = 1
  dimension "d119" = 0.5
  dimension "d120" = 5
  dimension "d121" = 5
  dimension "d122" = 1.9
  dimension "d123" = 1
  dimension "d124" = 2.5
  dimension "d125" = 1.9
  dimension "d126" = 2.5
  dimension "d127" = 5
  dimension "d128" = 2.5
  dimension "d129" = 1.9
  dimension "d132" = 1
  dimension "d133" = 1
  dimension "d134" = 0.5
  dimension "d135" = 135
  dimension "d136" = 0.5
  dimension "d137" = 1
  dimension "d138" = 1
  dimension "d139" = 135
  dimension "d140" = 0.5
  dimension "d141" = 135
  dimension "d143" = 0.8
  dimension "d144" = 45
  dimension "d145" = 0.5
  dimension "d153" = 45
  dimension "d155" = 0.5
  dimension "d156" = 135
  dimension "d158" = 45
  dimension "d163" = 2.5
  dimension "d164" = 1.9
  dimension "d167" = 0.8
  dimension "d169" = 45
  dimension "d172" = 2.5
  dimension "d173" = 1
  dimension "d174" = 0.5
  dimension "d175" = 0.8
  dimension "d179" = 0.8
  dimension "d181" = 0.8
  dimension "d185" = 0.5
  dimension "d186" = 135
  dimension "d187" = 45
  dimension "d188" = 2.5
  dimension "d189" = 2.5
  dimension "d190" = 1.9
  dimension "d192" = 0.8
  dimension "d193" = 45
  dimension "d194" = 45
  dimension "d195" = 0.9738
extrude "Extrusão1" add sketch "Esboço1" along normal mid plane 250
properties part number "20x40mm_perfil" material "Aço"
